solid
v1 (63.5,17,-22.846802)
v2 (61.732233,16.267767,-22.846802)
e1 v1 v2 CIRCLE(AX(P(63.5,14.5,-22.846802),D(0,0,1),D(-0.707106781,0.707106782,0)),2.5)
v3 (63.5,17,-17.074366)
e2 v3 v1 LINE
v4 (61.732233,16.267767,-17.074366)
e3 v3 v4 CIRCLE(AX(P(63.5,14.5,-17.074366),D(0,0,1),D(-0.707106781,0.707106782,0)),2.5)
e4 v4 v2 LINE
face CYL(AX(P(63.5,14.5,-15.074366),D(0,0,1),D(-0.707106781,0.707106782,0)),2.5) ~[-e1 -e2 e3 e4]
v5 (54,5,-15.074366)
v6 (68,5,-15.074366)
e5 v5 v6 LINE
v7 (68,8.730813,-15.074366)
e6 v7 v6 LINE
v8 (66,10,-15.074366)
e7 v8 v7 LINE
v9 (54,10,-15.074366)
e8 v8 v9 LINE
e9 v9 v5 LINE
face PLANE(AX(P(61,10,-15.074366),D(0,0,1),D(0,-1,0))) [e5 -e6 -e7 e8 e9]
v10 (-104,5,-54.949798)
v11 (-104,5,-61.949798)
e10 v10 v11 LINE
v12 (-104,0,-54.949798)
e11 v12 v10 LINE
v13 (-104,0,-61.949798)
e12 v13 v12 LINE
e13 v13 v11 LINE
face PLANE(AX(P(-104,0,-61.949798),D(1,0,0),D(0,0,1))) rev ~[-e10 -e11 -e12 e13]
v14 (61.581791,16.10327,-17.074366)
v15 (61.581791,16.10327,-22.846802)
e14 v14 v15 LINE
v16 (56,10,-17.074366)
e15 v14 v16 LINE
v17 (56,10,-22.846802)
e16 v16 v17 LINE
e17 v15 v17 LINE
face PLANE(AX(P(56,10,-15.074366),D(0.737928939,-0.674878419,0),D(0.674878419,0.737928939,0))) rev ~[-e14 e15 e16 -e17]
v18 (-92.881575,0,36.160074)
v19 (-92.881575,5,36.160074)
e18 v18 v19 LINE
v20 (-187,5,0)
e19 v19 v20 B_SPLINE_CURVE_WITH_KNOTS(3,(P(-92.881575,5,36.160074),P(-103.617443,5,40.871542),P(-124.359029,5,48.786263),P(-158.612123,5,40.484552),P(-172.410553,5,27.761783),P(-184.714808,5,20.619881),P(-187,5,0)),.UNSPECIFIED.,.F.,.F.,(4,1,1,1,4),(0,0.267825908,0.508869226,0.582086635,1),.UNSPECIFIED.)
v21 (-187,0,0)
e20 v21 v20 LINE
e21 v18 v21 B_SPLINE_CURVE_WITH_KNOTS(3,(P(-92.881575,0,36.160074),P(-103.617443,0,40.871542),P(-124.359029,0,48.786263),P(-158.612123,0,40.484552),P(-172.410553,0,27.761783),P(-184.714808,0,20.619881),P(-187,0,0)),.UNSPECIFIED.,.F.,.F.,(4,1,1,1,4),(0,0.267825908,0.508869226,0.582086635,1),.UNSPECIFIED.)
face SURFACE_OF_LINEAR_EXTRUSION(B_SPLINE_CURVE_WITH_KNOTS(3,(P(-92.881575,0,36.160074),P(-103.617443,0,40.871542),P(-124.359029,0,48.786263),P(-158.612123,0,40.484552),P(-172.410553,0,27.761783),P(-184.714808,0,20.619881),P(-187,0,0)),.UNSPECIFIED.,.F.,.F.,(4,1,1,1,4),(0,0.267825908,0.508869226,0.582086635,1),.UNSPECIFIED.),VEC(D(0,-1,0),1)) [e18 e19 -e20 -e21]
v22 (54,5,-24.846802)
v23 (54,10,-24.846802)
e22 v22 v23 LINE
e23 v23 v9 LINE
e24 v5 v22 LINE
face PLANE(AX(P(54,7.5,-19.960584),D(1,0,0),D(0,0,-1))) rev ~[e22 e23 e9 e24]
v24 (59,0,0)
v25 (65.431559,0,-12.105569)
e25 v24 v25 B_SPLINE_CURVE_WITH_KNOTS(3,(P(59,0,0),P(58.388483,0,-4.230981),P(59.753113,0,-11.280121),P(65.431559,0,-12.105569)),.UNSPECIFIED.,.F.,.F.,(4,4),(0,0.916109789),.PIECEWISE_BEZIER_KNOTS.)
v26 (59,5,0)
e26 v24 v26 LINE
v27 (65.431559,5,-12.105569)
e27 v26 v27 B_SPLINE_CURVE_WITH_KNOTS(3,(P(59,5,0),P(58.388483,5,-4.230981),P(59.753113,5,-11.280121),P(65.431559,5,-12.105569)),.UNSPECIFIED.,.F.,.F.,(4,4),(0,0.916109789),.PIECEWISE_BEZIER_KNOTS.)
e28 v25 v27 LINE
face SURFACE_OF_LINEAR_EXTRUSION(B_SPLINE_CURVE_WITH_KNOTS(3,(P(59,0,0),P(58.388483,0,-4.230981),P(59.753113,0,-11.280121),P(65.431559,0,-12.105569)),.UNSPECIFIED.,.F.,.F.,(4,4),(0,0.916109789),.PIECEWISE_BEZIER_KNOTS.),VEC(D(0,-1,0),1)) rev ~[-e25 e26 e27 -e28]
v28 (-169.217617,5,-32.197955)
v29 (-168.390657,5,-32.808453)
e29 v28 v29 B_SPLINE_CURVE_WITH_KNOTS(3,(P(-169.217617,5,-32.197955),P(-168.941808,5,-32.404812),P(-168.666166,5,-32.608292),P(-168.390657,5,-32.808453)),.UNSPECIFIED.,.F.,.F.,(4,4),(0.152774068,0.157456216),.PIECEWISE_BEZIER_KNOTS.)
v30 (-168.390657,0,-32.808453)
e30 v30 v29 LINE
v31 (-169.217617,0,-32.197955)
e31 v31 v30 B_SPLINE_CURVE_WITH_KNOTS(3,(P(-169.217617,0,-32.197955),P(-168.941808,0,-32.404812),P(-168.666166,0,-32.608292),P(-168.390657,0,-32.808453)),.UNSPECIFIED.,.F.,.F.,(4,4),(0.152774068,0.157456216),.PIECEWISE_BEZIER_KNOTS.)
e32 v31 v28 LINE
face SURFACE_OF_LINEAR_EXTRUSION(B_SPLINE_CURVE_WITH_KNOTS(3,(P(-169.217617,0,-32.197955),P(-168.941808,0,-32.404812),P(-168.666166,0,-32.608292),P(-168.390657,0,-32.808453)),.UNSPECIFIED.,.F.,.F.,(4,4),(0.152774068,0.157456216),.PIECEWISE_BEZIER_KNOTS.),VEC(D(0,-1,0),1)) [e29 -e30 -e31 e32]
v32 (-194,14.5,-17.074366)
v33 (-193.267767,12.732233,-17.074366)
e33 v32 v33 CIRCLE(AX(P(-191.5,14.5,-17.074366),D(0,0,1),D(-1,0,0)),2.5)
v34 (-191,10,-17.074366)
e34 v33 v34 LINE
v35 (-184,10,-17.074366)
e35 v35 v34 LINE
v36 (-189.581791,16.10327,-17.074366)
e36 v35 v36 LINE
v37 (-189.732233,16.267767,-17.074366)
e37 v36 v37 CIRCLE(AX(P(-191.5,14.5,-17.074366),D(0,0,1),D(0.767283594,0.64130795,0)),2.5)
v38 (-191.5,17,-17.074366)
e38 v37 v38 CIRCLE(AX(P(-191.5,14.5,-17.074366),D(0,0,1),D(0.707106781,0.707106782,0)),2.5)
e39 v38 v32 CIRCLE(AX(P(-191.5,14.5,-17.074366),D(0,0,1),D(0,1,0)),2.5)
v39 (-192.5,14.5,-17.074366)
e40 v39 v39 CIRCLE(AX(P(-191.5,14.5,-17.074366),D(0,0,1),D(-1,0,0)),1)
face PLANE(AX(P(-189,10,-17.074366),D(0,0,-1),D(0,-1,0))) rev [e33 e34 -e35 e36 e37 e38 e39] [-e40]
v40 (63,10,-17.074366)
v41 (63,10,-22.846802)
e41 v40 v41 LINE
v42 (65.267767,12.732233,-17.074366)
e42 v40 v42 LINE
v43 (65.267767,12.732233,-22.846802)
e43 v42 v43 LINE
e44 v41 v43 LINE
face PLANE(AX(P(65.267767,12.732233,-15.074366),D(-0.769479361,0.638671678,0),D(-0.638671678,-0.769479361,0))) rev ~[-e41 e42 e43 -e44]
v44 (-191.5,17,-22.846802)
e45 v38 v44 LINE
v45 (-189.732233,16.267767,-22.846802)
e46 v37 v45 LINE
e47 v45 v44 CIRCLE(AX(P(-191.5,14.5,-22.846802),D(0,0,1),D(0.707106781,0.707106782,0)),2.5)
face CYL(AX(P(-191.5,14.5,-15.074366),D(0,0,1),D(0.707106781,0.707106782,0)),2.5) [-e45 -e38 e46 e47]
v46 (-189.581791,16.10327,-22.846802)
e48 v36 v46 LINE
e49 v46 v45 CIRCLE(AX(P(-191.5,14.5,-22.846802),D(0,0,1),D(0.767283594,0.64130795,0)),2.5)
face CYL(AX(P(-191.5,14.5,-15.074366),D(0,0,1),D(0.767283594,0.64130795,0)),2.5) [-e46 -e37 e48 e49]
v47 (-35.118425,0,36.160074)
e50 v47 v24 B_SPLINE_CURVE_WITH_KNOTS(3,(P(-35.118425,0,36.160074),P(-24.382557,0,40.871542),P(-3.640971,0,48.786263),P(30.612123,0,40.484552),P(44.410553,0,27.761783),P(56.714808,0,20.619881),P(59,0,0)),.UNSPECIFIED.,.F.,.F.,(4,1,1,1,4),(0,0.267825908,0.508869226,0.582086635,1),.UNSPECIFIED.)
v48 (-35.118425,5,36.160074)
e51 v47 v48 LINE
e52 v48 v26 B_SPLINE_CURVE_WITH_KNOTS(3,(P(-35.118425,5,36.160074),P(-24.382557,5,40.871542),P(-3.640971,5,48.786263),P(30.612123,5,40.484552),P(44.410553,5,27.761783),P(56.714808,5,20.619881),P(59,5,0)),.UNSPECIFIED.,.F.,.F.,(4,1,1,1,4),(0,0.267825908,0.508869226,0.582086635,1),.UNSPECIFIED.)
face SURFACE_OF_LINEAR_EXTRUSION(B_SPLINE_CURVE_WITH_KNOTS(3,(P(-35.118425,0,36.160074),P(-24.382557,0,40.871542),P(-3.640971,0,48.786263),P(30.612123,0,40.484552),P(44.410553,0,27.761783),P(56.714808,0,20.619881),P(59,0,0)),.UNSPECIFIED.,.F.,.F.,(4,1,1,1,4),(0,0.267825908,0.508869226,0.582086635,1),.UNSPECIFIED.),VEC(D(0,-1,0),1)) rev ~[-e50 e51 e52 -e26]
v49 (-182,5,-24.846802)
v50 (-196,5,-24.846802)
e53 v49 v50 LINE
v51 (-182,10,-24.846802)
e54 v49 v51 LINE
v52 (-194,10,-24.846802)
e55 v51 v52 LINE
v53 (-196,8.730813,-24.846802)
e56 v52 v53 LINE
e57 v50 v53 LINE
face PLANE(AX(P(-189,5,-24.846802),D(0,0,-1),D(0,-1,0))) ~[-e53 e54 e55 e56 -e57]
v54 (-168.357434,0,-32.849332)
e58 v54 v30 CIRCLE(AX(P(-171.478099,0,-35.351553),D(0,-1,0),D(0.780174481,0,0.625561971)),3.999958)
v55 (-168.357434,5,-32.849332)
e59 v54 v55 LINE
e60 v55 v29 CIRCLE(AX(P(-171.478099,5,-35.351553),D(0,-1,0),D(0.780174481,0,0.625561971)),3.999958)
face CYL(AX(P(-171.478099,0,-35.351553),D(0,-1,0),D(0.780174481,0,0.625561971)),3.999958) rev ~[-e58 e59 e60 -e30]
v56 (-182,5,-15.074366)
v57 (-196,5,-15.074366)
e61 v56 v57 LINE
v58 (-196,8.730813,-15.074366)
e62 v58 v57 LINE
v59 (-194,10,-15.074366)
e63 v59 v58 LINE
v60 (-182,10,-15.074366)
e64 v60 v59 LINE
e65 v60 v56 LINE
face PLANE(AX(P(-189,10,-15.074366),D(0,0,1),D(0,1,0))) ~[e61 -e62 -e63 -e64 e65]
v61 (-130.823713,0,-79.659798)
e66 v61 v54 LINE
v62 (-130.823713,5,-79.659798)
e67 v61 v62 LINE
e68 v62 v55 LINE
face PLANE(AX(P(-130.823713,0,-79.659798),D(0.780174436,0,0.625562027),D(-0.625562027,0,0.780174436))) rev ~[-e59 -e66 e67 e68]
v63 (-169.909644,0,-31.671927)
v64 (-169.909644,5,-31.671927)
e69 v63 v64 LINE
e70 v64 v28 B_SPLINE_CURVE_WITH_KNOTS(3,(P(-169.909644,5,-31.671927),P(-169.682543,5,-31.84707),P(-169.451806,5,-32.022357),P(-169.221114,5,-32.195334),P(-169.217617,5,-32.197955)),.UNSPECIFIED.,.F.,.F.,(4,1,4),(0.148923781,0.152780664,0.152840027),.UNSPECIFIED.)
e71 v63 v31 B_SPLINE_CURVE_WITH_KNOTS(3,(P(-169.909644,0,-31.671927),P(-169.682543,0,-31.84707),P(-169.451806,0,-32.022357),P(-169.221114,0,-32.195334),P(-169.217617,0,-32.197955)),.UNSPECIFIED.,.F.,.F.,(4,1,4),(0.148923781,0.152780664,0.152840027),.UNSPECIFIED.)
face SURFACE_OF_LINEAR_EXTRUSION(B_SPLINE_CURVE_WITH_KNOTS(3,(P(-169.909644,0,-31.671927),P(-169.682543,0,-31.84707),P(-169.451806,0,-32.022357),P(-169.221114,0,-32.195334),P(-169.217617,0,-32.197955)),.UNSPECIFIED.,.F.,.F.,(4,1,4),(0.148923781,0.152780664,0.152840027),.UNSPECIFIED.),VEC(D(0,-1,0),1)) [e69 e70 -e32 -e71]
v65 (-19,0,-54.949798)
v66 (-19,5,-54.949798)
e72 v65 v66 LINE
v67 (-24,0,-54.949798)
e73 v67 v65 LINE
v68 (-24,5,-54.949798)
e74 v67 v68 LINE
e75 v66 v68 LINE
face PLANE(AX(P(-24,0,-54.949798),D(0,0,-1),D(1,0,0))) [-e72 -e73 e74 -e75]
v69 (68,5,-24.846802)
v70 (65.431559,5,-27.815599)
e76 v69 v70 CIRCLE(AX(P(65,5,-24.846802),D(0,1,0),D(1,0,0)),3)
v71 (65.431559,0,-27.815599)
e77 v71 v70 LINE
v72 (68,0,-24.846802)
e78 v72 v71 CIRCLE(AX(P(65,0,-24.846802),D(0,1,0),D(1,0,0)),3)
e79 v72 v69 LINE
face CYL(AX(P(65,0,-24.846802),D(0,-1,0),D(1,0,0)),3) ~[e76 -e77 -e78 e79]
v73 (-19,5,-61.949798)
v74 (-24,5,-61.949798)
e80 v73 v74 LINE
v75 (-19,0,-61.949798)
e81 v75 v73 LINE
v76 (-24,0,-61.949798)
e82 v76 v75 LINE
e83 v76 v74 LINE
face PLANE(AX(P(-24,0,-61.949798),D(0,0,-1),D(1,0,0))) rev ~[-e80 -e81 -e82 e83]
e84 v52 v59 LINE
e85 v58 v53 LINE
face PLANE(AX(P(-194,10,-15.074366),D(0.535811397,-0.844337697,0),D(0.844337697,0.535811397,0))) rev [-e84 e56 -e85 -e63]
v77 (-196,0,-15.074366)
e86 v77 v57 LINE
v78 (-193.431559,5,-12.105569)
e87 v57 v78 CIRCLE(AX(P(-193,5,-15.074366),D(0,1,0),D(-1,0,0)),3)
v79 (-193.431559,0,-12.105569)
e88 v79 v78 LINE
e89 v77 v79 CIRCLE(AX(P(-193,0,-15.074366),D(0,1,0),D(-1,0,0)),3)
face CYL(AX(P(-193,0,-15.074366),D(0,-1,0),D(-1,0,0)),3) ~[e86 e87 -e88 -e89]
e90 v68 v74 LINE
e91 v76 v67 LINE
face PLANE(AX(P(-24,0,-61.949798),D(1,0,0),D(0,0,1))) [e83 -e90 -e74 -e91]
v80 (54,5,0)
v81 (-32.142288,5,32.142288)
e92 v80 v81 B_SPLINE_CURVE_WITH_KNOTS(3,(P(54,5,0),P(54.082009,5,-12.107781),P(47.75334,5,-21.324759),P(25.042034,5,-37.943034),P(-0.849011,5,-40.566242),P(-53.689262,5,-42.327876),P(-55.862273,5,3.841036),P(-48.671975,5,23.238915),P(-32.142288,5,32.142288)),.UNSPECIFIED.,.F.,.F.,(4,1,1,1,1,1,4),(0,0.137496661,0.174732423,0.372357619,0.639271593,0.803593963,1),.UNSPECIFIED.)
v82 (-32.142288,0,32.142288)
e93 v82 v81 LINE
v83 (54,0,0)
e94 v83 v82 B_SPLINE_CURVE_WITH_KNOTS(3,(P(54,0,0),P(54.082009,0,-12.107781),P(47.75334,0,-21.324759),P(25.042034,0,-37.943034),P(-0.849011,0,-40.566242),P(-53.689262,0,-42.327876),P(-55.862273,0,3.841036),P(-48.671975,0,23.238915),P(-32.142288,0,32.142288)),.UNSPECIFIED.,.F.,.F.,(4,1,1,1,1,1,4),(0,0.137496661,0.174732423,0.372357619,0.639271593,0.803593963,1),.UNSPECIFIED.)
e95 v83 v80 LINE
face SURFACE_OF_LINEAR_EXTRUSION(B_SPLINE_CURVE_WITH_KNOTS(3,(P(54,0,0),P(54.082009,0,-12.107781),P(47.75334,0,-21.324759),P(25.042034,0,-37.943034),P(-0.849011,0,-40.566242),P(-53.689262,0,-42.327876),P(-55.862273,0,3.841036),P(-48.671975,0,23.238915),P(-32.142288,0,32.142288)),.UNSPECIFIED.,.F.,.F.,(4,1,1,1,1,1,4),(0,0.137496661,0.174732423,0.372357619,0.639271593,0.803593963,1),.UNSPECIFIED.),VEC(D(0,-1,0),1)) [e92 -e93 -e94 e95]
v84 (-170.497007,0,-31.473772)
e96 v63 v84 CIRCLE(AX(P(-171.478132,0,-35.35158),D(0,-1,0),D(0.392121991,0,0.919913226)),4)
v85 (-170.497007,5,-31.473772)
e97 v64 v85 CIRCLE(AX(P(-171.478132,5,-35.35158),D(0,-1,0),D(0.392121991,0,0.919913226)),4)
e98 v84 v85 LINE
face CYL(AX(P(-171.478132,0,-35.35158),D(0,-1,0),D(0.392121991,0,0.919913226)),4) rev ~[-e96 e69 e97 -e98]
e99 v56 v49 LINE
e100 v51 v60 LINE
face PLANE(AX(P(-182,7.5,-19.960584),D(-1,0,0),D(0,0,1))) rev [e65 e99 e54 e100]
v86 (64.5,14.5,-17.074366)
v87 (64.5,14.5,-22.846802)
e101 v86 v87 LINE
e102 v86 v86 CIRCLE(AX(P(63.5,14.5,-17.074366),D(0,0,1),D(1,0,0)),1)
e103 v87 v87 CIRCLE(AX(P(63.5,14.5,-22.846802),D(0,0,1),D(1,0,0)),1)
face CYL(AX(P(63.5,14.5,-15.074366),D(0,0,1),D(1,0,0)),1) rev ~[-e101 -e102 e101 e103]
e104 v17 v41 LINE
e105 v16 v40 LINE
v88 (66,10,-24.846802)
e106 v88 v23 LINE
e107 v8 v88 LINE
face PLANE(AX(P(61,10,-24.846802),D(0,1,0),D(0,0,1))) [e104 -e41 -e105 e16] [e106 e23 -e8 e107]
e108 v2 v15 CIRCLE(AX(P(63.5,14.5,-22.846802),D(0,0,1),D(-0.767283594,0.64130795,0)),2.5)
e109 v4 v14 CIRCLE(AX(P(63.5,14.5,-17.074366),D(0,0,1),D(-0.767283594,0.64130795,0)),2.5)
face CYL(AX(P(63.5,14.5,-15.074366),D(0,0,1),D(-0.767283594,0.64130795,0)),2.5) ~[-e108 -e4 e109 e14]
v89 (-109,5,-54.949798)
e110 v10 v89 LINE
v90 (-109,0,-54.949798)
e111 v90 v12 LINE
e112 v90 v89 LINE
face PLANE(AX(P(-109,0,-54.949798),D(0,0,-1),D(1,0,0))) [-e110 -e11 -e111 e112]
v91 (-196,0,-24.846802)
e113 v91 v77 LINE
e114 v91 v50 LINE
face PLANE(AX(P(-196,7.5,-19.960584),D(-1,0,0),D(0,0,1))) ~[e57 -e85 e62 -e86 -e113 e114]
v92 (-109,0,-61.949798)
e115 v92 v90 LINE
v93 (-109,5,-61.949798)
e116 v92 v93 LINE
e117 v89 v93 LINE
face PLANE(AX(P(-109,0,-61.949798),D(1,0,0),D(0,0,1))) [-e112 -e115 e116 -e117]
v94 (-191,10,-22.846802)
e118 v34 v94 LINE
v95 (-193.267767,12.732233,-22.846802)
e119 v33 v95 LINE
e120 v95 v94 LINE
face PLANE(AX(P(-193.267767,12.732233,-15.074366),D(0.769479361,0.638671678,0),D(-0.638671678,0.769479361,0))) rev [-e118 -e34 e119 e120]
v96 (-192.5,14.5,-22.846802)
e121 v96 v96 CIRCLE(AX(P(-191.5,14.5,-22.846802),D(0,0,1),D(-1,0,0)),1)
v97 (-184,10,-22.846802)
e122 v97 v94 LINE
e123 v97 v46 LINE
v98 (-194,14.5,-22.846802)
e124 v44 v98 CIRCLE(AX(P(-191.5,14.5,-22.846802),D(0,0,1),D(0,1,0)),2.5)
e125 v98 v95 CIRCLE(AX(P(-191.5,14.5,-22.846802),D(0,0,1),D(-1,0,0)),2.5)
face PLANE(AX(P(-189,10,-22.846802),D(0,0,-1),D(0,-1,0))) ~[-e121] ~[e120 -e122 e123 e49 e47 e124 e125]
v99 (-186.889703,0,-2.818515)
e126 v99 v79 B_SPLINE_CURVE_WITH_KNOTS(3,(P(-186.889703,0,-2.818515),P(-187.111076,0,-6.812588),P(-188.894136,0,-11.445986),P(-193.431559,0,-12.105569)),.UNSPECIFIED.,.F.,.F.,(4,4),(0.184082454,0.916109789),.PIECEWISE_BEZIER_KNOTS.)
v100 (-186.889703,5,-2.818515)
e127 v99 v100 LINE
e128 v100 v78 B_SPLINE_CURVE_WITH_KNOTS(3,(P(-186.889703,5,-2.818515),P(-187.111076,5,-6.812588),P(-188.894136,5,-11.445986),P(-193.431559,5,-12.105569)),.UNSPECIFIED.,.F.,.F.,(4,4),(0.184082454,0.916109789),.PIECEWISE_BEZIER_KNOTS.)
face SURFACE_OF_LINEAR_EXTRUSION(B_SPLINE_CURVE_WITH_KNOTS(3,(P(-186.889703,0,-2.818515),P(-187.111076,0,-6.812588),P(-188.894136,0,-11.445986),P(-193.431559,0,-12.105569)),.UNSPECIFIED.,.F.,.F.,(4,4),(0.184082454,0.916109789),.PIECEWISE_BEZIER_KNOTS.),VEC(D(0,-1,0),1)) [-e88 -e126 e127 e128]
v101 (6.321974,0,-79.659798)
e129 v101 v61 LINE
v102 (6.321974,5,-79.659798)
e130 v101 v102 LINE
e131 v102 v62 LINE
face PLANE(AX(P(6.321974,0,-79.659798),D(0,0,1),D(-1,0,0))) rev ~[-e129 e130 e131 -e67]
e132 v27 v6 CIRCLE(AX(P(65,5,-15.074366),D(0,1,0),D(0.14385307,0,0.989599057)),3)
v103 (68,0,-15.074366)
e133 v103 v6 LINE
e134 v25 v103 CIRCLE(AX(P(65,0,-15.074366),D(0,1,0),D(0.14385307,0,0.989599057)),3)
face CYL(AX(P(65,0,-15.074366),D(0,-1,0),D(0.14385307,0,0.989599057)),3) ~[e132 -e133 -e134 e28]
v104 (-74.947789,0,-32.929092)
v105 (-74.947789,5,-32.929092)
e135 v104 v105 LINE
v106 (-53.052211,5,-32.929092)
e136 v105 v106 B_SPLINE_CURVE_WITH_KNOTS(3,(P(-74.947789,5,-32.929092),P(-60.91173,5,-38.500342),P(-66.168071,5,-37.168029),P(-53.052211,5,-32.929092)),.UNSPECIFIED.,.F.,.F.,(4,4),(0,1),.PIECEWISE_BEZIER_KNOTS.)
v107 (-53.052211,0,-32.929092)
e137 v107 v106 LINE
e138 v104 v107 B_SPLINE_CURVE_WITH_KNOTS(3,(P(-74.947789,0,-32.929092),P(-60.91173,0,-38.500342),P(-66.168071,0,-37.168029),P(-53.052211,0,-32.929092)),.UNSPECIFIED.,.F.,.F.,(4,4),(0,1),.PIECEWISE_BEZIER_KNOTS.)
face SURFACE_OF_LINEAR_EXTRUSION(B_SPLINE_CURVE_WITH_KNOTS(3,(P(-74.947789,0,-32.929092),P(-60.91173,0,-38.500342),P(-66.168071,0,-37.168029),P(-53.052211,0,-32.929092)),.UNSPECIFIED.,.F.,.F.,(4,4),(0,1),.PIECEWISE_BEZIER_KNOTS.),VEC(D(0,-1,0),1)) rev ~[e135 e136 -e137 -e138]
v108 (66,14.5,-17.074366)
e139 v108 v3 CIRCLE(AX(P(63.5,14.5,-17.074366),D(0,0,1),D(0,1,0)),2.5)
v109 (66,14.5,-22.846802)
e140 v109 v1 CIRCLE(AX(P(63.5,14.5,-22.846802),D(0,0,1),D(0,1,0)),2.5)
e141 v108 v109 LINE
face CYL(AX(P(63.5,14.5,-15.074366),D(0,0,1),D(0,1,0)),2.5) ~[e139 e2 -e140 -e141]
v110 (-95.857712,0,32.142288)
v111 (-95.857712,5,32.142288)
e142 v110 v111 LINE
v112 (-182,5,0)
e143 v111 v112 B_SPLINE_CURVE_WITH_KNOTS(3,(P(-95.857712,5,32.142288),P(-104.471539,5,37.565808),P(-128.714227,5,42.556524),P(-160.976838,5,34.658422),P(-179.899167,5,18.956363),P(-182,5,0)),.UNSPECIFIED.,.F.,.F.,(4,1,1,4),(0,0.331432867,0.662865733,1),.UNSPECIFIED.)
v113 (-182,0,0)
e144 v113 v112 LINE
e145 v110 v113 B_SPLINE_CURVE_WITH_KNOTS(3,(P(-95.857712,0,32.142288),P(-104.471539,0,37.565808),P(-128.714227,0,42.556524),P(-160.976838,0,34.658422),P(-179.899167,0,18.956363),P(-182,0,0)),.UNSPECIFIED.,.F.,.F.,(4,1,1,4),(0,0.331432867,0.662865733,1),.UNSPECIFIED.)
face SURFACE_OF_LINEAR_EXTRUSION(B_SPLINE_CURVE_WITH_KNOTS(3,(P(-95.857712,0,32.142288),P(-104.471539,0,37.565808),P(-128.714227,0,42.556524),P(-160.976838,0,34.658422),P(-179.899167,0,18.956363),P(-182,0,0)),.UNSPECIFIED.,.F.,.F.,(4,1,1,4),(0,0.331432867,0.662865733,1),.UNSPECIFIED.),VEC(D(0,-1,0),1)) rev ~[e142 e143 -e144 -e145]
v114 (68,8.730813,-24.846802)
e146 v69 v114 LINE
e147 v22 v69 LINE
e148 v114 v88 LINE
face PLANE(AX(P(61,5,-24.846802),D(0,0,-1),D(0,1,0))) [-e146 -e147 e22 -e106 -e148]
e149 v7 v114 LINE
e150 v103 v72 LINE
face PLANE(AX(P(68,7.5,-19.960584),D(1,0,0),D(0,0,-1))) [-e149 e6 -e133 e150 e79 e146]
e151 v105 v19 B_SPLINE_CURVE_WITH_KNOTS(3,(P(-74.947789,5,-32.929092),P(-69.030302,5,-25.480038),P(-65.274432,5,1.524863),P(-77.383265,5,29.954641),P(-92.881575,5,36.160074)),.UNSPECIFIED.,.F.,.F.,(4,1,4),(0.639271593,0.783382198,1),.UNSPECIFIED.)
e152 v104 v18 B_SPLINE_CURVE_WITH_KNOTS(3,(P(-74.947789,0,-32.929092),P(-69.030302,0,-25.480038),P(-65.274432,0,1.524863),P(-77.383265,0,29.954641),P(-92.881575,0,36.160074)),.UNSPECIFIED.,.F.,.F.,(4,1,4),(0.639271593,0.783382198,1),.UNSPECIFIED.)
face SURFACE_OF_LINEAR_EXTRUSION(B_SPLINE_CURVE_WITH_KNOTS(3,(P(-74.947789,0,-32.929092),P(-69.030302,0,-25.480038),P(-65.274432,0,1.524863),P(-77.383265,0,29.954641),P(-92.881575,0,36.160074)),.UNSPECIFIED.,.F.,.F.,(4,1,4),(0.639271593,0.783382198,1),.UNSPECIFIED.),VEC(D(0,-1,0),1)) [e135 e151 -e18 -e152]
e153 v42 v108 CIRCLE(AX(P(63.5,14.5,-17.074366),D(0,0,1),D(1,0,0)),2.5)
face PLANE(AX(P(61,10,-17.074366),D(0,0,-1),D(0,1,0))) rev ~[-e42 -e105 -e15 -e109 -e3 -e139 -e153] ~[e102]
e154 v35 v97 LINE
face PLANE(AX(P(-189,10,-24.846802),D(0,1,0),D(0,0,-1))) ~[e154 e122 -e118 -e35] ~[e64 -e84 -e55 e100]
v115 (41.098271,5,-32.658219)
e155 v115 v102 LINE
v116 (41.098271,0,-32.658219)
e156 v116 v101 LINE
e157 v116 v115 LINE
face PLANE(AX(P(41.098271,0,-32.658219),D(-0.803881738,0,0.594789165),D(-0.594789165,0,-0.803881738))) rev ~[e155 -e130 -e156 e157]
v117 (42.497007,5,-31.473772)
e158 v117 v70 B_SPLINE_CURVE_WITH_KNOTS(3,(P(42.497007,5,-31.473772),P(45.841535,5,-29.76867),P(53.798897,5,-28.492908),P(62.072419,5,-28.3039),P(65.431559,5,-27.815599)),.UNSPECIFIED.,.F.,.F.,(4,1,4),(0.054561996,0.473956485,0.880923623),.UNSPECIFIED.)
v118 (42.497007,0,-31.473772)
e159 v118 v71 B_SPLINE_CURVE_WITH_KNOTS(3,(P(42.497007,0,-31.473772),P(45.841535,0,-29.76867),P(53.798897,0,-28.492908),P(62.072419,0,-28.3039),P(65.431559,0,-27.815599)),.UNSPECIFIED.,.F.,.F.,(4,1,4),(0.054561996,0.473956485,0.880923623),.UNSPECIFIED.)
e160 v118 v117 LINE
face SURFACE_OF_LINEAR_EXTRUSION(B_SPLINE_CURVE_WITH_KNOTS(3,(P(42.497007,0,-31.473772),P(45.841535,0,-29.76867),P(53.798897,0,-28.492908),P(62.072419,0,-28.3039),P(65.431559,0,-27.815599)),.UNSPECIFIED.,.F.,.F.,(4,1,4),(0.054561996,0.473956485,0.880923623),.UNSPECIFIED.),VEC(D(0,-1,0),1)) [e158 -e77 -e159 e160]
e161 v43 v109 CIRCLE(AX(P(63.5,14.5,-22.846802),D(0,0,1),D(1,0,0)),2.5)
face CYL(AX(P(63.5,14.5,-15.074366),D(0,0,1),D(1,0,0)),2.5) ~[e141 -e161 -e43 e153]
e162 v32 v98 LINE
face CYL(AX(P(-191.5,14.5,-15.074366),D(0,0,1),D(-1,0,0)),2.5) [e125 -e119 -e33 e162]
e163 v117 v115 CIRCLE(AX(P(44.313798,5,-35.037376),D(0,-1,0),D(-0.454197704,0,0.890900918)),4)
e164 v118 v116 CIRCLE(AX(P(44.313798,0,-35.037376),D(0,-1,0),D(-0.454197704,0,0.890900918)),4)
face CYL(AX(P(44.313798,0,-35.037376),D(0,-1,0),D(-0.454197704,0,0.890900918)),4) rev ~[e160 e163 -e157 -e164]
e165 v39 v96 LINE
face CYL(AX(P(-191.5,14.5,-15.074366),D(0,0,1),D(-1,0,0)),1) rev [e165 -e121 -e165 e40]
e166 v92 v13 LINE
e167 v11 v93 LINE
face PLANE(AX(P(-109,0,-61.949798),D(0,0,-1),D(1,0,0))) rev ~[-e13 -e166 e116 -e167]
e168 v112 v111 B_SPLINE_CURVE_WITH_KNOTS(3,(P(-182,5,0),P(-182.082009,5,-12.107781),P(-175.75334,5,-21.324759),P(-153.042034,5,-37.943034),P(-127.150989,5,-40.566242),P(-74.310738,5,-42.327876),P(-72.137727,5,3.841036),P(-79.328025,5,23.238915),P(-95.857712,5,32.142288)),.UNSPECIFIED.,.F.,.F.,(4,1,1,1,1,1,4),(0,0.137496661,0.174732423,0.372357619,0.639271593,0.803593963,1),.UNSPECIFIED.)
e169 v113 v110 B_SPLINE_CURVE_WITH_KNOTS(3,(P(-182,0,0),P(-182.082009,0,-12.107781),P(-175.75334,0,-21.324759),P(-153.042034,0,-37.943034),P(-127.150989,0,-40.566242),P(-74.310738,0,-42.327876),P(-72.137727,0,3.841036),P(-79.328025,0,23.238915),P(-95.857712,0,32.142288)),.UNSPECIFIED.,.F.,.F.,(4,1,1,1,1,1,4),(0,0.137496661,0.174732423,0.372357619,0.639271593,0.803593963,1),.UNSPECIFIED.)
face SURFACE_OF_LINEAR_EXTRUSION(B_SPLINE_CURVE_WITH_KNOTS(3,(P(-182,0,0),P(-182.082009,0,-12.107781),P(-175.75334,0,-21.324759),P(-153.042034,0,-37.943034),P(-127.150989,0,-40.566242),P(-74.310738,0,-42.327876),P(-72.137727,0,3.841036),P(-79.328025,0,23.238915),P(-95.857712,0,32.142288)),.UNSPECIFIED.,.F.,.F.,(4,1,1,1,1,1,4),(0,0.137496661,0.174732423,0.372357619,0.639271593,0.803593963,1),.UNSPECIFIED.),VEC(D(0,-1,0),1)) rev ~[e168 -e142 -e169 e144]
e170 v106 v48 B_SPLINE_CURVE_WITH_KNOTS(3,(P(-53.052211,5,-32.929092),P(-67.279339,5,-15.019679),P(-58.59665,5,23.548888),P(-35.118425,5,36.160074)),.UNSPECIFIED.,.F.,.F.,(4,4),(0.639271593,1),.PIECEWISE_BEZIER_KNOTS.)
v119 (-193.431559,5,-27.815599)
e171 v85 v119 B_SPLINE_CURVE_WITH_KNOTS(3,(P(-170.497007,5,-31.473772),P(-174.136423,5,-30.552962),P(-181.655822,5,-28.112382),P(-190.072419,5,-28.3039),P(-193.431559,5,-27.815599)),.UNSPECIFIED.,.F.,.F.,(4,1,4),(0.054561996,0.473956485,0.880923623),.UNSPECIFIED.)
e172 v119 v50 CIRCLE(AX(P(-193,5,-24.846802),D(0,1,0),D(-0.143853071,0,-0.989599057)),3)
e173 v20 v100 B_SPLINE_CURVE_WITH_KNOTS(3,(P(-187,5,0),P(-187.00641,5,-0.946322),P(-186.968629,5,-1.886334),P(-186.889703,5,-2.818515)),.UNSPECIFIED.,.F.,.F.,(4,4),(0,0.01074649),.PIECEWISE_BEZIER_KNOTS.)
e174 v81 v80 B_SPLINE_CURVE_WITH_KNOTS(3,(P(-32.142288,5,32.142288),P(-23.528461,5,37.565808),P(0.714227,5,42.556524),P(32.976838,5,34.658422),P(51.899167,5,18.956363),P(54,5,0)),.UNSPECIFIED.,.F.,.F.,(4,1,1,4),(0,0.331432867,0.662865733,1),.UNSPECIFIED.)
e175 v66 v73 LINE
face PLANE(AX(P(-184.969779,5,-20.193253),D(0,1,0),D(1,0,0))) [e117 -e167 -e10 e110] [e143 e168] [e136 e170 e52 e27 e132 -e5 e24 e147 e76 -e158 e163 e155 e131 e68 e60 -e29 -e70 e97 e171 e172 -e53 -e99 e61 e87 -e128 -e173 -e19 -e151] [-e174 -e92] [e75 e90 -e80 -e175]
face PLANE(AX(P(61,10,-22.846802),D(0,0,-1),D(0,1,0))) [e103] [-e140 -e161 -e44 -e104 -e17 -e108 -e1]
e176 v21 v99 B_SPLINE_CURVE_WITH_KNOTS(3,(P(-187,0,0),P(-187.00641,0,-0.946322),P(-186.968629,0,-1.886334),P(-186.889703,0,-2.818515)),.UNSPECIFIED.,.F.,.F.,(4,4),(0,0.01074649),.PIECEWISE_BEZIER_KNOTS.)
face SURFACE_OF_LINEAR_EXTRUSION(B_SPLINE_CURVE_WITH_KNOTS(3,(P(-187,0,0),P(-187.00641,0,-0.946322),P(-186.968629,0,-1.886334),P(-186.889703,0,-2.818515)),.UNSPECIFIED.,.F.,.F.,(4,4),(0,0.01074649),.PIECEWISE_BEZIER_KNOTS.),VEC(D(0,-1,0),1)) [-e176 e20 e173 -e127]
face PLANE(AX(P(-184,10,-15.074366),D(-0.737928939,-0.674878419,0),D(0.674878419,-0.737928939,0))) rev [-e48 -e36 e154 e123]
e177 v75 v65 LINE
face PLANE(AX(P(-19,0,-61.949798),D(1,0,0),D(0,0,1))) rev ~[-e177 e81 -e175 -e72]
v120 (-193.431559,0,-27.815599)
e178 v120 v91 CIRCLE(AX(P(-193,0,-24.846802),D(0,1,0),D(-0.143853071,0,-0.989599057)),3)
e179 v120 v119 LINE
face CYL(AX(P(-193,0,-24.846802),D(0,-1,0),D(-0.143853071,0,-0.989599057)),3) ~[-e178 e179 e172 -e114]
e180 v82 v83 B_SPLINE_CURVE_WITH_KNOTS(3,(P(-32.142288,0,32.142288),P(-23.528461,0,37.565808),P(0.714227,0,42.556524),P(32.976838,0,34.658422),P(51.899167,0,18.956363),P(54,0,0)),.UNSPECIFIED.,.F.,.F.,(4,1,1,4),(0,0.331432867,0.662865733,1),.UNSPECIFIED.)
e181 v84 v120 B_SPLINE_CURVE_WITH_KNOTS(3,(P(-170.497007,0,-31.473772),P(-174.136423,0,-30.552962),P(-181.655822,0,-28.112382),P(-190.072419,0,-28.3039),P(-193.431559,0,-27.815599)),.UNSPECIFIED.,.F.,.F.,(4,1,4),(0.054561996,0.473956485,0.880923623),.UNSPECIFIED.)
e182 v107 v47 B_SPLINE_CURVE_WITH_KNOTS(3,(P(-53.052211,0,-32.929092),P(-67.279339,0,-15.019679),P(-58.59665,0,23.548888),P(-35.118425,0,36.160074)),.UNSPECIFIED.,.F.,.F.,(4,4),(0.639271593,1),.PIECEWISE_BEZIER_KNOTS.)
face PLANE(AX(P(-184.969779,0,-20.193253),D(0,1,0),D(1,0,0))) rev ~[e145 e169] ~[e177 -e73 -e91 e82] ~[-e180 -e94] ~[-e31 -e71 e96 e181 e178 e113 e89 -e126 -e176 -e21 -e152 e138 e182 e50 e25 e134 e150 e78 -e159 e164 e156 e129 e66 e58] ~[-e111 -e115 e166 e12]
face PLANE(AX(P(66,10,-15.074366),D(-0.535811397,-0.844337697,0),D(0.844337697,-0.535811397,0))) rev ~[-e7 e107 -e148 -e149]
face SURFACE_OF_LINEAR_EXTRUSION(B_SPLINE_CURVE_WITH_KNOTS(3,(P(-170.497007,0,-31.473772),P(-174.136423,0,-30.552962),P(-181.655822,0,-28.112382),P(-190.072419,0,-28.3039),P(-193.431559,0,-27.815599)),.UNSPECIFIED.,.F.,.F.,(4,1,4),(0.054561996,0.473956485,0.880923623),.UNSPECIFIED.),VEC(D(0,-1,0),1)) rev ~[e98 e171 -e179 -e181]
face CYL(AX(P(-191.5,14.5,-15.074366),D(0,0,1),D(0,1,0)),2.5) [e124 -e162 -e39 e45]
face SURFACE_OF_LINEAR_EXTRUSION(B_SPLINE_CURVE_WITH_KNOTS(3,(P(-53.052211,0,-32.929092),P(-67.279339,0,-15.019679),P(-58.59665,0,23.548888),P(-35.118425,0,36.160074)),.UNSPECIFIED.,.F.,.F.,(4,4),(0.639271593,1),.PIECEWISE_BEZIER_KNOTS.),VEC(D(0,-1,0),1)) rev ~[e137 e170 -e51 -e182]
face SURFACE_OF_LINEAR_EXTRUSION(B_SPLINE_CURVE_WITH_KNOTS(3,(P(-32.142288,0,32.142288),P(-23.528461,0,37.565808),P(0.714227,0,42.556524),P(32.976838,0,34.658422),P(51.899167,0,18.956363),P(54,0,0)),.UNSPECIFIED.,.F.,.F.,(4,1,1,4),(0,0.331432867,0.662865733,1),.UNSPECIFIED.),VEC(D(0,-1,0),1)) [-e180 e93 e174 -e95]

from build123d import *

# Parameters (mm, degrees)
BOSS_EXTRUDE2_DEPTH = 5
BOSS_EXTRUDE3_DEPTH = 7
SKETCH2_4_W         = 5.772435779
SKETCH2_4_H         = 7
BOSS_EXTRUDE4_DEPTH = 5
SKETCH3_R           = 1
CUT_EXTRUDE1_DEPTH  = 208.065878594
SKETCH6_W           = 5
SKETCH6_H           = 7
CUT_EXTRUDE2_DEPTH  = 213.251462741


with BuildPart() as part:
    # Sketch1 → Boss-Extrude2 (new body)
    # profile 1 of 4: a face of its own
    with BuildSketch(Plane(origin=(0, 0, 0), x_dir=(1, 0, 0), z_dir=(0, 1, 0))):
        with BuildLine():
            Line((68, 15.074365775), (68, 24.846801554))
            ThreePointArc((68, 24.846801554), (67.268774739, 26.809621256), (65.431559211, 27.815598726))
            add(Edge.make_bspline(
                [(42.497006951, 31.473771916), (45.841535206, 29.768669785), (53.798896899, 28.492908489), (62.072418833, 28.303900178), (65.431559211, 27.815598726)],
                knots=[0.054561996, 0.054561996, 0.054561996, 0.054561996, 0.473956485, 0.880923623, 0.880923623, 0.880923623, 0.880923623], degree=3))
            ThreePointArc((42.497006951, 31.473771916), (41.728883026, 31.984800317), (41.098270813, 32.658218928))
            Line((41.098270813, 32.658218928), (6.321974116, 79.659797769))
            Line((6.321974116, 79.659797769), (-130.823712763, 79.659797769))
            Line((-130.823712763, 79.659797769), (-168.357434382, 32.849331616))
            ThreePointArc((-168.357434382, 32.849331616), (-168.373978152, 32.828837542), (-168.390656508, 32.808452847))
            ThreePointArc((-168.390656508, 32.808452847), (-169.081796989, 32.148834352), (-169.909644155, 31.67192682))
            add(Edge.make_bspline(
                [(-186.889702979, 2.818515292), (-185.958801053, 13.813191283), (-178.704046411, 24.611644239), (-170.582497362, 31.153016341), (-169.909644155, 31.67192682)],
                knots=[0.01074649, 0.01074649, 0.01074649, 0.01074649, 0.137496661, 0.148923781, 0.148923781, 0.148923781, 0.148923781], degree=3))
            add(Edge.make_bspline(
                [(-187, 0), (-186.877122184, 0.850170327), (-186.834034486, 1.814128347), (-186.889702979, 2.818515292)],
                knots=[0, 0, 0, 0, 0.184082454, 0.184082454, 0.184082454, 0.184082454], degree=3))
            add(Edge.make_bspline(
                [(-92.881574513, -36.160073701), (-103.617442681, -40.871542321), (-124.35902934, -48.786263046), (-158.61212291, -40.484551569), (-172.410552718, -27.76178335), (-184.714807633, -20.619880927), (-187, 0)],
                knots=[0, 0, 0, 0, 0.267825908, 0.508869226, 0.582086635, 1, 1, 1, 1], degree=3))
            add(Edge.make_bspline(
                [(-74.947788511, 32.929092359), (-69.03030208, 25.480038353), (-65.274431542, -1.524862565), (-77.383264734, -29.954640995), (-92.881574513, -36.160073701)],
                knots=[0.639271593, 0.639271593, 0.639271593, 0.639271593, 0.783382198, 1, 1, 1, 1], degree=3))
            add(Edge.make_bspline(
                [(-74.947788511, 32.929092359), (-60.911730061, 38.500342452), (-66.168070855, 37.168029476), (-53.052211489, 32.929092359)],
                knots=[0, 0, 0, 0, 1, 1, 1, 1], degree=3))
            add(Edge.make_bspline(
                [(-53.052211489, 32.929092359), (-67.279339394, 15.019679466), (-58.596650193, -23.548887855), (-35.118425487, -36.160073701)],
                knots=[0.639271593, 0.639271593, 0.639271593, 0.639271593, 1, 1, 1, 1], degree=3))
            add(Edge.make_bspline(
                [(-35.118425487, -36.160073701), (-24.382557319, -40.871542321), (-3.64097066, -48.786263046), (30.61212291, -40.484551569), (44.410552718, -27.76178335), (56.714807633, -20.619880927), (59, 0)],
                knots=[0, 0, 0, 0, 0.267825908, 0.508869226, 0.582086635, 1, 1, 1, 1], degree=3))
            add(Edge.make_bspline(
                [(59, 0), (58.388482892, 4.230980962), (59.753113299, 11.280121294), (65.431559211, 12.105568604)],
                knots=[0, 0, 0, 0, 0.916109789, 0.916109789, 0.916109789, 0.916109789], degree=3))
            ThreePointArc((65.431559211, 12.105568604), (67.268774739, 13.111546073), (68, 15.074365775))
        make_face()
        with BuildLine():
            add(Edge.make_bspline(
                [(-95.857712266, -32.142287734), (-104.471539105, -37.565808336), (-128.714227319, -42.556524389), (-160.976837774, -34.658421894), (-179.899166505, -18.956363211), (-182, 0)],
                knots=[0, 0, 0, 0, 0.331432867, 0.662865733, 1, 1, 1, 1], degree=3))
            add(Edge.make_bspline(
                [(-182, 0), (-182.08200901, 12.107781209), (-175.753339721, 21.324758613), (-153.042034044, 37.943033501), (-127.150989048, 40.566242244), (-74.310738013, 42.327876231), (-72.13772655, -3.841036124), (-79.328025139, -23.238914829), (-95.857712266, -32.142287734)],
                knots=[0, 0, 0, 0, 0.137496661, 0.174732423, 0.372357619, 0.639271593, 0.803593963, 1, 1, 1, 1], degree=3))
        make_face(mode=Mode.SUBTRACT)
        with BuildLine():
            add(Edge.make_bspline(
                [(54, 0), (54.08200901, 12.107781209), (47.753339721, 21.324758613), (25.042034044, 37.943033501), (-0.849010952, 40.566242244), (-53.689261987, 42.327876231), (-55.86227345, -3.841036124), (-48.671974861, -23.238914829), (-32.142287734, -32.142287734)],
                knots=[0, 0, 0, 0, 0.137496661, 0.174732423, 0.372357619, 0.639271593, 0.803593963, 1, 1, 1, 1], degree=3))
            add(Edge.make_bspline(
                [(-32.142287734, -32.142287734), (-23.528460895, -37.565808336), (0.714227319, -42.556524389), (32.976837774, -34.658421894), (51.899166505, -18.956363211), (54, 0)],
                knots=[0, 0, 0, 0, 0.331432867, 0.662865733, 1, 1, 1, 1], degree=3))
        make_face(mode=Mode.SUBTRACT)
    # profile 2 of 4: a face of its own
    with BuildSketch(Plane(origin=(0, 0, 0), x_dir=(1, 0, 0), z_dir=(0, 1, 0))):
        with BuildLine():
            ThreePointArc((-169.909644155, 31.67192682), (-169.081796989, 32.148834352), (-168.390656508, 32.808452847))
            add(Edge.make_bspline(
                [(-169.217617173, 32.197955257), (-168.941807846, 32.404812498), (-168.666165652, 32.608292359), (-168.390656508, 32.808452847)],
                knots=[0.152774068, 0.152774068, 0.152774068, 0.152774068, 0.157456216, 0.157456216, 0.157456216, 0.157456216], degree=3))
            add(Edge.make_bspline(
                [(-169.909644155, 31.67192682), (-169.682542652, 31.847069554), (-169.451805831, 32.022356896), (-169.221114016, 32.195333782), (-169.217617173, 32.197955257)],
                knots=[0.148923781, 0.148923781, 0.148923781, 0.148923781, 0.152780664, 0.152840027, 0.152840027, 0.152840027, 0.152840027], degree=3))
        make_face()
    # profile 3 of 4: a face of its own
    with BuildSketch(Plane(origin=(0, 0, 0), x_dir=(1, 0, 0), z_dir=(0, 1, 0))):
        with BuildLine():
            add(Edge.make_bspline(
                [(-187, 0), (-187.006409675, 0.946322211), (-186.968629324, 1.886333747), (-186.889702979, 2.818515292)],
                knots=[0, 0, 0, 0, 0.01074649, 0.01074649, 0.01074649, 0.01074649], degree=3))
            add(Edge.make_bspline(
                [(-187, 0), (-186.877122184, 0.850170327), (-186.834034486, 1.814128347), (-186.889702979, 2.818515292)],
                knots=[0, 0, 0, 0, 0.184082454, 0.184082454, 0.184082454, 0.184082454], degree=3))
        make_face()
    # profile 4 of 4: a face of its own
    with BuildSketch(Plane(origin=(0, 0, 0), x_dir=(1, 0, 0), z_dir=(0, 1, 0))):
        with BuildLine():
            add(Edge.make_bspline(
                [(-186.889702979, 2.818515292), (-185.958801053, 13.813191283), (-178.704046411, 24.611644239), (-170.582497362, 31.153016341), (-169.909644155, 31.67192682)],
                knots=[0.01074649, 0.01074649, 0.01074649, 0.01074649, 0.137496661, 0.148923781, 0.148923781, 0.148923781, 0.148923781], degree=3))
            ThreePointArc((-169.909644155, 31.67192682), (-170.19948122, 31.56145415), (-170.497006951, 31.473771916))
            add(Edge.make_bspline(
                [(-170.497006951, 31.473771916), (-174.136423388, 30.552962205), (-181.65582182, 28.112382218), (-190.072418833, 28.303900178), (-193.431559211, 27.815598726)],
                knots=[0.054561996, 0.054561996, 0.054561996, 0.054561996, 0.473956485, 0.880923623, 0.880923623, 0.880923623, 0.880923623], degree=3))
            ThreePointArc((-193.431559211, 27.815598726), (-195.268774739, 26.809621256), (-196, 24.846801554))
            Line((-196, 24.846801554), (-196, 15.074365775))
            ThreePointArc((-196, 15.074365775), (-195.268774739, 13.111546073), (-193.431559211, 12.105568604))
            add(Edge.make_bspline(
                [(-186.889702979, 2.818515292), (-187.111075835, 6.812587961), (-188.894136211, 11.445986093), (-193.431559211, 12.105568604)],
                knots=[0.184082454, 0.184082454, 0.184082454, 0.184082454, 0.916109789, 0.916109789, 0.916109789, 0.916109789], degree=3))
        make_face()
    extrude(amount=BOSS_EXTRUDE2_DEPTH)

    # Sketch2 → Boss-Extrude3 (add, symmetric)
    with BuildSketch(Plane(origin=(61, 0, 0), x_dir=(0, 0, -1), z_dir=(1, 0, 0))):
        Polygon((15.074365775, 10), (15.074365775, 5), (24.846801554, 5), (24.846801554, 10), (22.846801554, 10), (17.074365775, 10), align=None)
    boss_extrude3 = extrude(amount=BOSS_EXTRUDE3_DEPTH, both=True)

    # Sketch2<4> → Boss-Extrude4 (add, symmetric)
    with BuildSketch(Plane(origin=(61, 0, 0), x_dir=(0, 0, -1), z_dir=(1, 0, 0))):
        with Locations((19.960583664, 13.5)):
            Rectangle(SKETCH2_4_W, SKETCH2_4_H)
    boss_extrude4 = extrude(amount=BOSS_EXTRUDE4_DEPTH, both=True)

    # Sketch3 → Cut-Extrude1 (cut, through all)
    with BuildSketch(Plane.XY.offset(-15.074365775)):
        Polygon((68, 10), (66, 10), (68, 8.730812567), align=None)
        with BuildLine():
            Line((56, 17), (56, 10))
            Line((56, 10), (61.581791004, 16.103269862))
            ThreePointArc((61.581791004, 16.103269862), (61.655177652, 16.187196048), (61.732233047, 16.267766953))
            ThreePointArc((61.732233047, 16.267766953), (62.543291419, 16.809698831), (63.5, 17))
            Line((63.5, 17), (56, 17))
        make_face()
        with BuildLine():
            ThreePointArc((63.5, 17), (65.267766953, 16.267766953), (66, 14.5))
            Line((66, 14.5), (66, 17))
            Line((66, 17), (63.5, 17))
        make_face()
        with BuildLine():
            Line((63, 10), (66, 10))
            Line((66, 10), (66, 14.5))
            ThreePointArc((66, 14.5), (65.809698831, 13.543291419), (65.267766953, 12.732233047))
            Line((65.267766953, 12.732233047), (63, 10))
        make_face()
        with Locations((63.5, 14.5)):
            Circle(SKETCH3_R)
    cut_extrude1 = extrude(amount=-CUT_EXTRUDE1_DEPTH, mode=Mode.SUBTRACT)

    # Mirror1: Boss-Extrude3, Boss-Extrude4, Cut-Extrude1 across plane
    add(boss_extrude3.mirror(Plane(origin=(-64, 0, 0), x_dir=(0, 0, 1), z_dir=(1, 0, 0))))
    add(boss_extrude4.mirror(Plane(origin=(-64, 0, 0), x_dir=(0, 0, 1), z_dir=(1, 0, 0))))
    add(cut_extrude1.mirror(Plane(origin=(-64, 0, 0), x_dir=(0, 0, 1), z_dir=(1, 0, 0))), mode=Mode.SUBTRACT)

    # Sketch6 → Cut-Extrude2 (cut, through all)
    with BuildSketch(Plane.XZ):
        with Locations((-106.5, -58.449797769)):
            Rectangle(SKETCH6_W, SKETCH6_H)
        with Locations((-21.5, -58.449797769)):
            Rectangle(SKETCH6_W, SKETCH6_H)
    extrude(amount=-CUT_EXTRUDE2_DEPTH, mode=Mode.SUBTRACT)


solid = part.part
